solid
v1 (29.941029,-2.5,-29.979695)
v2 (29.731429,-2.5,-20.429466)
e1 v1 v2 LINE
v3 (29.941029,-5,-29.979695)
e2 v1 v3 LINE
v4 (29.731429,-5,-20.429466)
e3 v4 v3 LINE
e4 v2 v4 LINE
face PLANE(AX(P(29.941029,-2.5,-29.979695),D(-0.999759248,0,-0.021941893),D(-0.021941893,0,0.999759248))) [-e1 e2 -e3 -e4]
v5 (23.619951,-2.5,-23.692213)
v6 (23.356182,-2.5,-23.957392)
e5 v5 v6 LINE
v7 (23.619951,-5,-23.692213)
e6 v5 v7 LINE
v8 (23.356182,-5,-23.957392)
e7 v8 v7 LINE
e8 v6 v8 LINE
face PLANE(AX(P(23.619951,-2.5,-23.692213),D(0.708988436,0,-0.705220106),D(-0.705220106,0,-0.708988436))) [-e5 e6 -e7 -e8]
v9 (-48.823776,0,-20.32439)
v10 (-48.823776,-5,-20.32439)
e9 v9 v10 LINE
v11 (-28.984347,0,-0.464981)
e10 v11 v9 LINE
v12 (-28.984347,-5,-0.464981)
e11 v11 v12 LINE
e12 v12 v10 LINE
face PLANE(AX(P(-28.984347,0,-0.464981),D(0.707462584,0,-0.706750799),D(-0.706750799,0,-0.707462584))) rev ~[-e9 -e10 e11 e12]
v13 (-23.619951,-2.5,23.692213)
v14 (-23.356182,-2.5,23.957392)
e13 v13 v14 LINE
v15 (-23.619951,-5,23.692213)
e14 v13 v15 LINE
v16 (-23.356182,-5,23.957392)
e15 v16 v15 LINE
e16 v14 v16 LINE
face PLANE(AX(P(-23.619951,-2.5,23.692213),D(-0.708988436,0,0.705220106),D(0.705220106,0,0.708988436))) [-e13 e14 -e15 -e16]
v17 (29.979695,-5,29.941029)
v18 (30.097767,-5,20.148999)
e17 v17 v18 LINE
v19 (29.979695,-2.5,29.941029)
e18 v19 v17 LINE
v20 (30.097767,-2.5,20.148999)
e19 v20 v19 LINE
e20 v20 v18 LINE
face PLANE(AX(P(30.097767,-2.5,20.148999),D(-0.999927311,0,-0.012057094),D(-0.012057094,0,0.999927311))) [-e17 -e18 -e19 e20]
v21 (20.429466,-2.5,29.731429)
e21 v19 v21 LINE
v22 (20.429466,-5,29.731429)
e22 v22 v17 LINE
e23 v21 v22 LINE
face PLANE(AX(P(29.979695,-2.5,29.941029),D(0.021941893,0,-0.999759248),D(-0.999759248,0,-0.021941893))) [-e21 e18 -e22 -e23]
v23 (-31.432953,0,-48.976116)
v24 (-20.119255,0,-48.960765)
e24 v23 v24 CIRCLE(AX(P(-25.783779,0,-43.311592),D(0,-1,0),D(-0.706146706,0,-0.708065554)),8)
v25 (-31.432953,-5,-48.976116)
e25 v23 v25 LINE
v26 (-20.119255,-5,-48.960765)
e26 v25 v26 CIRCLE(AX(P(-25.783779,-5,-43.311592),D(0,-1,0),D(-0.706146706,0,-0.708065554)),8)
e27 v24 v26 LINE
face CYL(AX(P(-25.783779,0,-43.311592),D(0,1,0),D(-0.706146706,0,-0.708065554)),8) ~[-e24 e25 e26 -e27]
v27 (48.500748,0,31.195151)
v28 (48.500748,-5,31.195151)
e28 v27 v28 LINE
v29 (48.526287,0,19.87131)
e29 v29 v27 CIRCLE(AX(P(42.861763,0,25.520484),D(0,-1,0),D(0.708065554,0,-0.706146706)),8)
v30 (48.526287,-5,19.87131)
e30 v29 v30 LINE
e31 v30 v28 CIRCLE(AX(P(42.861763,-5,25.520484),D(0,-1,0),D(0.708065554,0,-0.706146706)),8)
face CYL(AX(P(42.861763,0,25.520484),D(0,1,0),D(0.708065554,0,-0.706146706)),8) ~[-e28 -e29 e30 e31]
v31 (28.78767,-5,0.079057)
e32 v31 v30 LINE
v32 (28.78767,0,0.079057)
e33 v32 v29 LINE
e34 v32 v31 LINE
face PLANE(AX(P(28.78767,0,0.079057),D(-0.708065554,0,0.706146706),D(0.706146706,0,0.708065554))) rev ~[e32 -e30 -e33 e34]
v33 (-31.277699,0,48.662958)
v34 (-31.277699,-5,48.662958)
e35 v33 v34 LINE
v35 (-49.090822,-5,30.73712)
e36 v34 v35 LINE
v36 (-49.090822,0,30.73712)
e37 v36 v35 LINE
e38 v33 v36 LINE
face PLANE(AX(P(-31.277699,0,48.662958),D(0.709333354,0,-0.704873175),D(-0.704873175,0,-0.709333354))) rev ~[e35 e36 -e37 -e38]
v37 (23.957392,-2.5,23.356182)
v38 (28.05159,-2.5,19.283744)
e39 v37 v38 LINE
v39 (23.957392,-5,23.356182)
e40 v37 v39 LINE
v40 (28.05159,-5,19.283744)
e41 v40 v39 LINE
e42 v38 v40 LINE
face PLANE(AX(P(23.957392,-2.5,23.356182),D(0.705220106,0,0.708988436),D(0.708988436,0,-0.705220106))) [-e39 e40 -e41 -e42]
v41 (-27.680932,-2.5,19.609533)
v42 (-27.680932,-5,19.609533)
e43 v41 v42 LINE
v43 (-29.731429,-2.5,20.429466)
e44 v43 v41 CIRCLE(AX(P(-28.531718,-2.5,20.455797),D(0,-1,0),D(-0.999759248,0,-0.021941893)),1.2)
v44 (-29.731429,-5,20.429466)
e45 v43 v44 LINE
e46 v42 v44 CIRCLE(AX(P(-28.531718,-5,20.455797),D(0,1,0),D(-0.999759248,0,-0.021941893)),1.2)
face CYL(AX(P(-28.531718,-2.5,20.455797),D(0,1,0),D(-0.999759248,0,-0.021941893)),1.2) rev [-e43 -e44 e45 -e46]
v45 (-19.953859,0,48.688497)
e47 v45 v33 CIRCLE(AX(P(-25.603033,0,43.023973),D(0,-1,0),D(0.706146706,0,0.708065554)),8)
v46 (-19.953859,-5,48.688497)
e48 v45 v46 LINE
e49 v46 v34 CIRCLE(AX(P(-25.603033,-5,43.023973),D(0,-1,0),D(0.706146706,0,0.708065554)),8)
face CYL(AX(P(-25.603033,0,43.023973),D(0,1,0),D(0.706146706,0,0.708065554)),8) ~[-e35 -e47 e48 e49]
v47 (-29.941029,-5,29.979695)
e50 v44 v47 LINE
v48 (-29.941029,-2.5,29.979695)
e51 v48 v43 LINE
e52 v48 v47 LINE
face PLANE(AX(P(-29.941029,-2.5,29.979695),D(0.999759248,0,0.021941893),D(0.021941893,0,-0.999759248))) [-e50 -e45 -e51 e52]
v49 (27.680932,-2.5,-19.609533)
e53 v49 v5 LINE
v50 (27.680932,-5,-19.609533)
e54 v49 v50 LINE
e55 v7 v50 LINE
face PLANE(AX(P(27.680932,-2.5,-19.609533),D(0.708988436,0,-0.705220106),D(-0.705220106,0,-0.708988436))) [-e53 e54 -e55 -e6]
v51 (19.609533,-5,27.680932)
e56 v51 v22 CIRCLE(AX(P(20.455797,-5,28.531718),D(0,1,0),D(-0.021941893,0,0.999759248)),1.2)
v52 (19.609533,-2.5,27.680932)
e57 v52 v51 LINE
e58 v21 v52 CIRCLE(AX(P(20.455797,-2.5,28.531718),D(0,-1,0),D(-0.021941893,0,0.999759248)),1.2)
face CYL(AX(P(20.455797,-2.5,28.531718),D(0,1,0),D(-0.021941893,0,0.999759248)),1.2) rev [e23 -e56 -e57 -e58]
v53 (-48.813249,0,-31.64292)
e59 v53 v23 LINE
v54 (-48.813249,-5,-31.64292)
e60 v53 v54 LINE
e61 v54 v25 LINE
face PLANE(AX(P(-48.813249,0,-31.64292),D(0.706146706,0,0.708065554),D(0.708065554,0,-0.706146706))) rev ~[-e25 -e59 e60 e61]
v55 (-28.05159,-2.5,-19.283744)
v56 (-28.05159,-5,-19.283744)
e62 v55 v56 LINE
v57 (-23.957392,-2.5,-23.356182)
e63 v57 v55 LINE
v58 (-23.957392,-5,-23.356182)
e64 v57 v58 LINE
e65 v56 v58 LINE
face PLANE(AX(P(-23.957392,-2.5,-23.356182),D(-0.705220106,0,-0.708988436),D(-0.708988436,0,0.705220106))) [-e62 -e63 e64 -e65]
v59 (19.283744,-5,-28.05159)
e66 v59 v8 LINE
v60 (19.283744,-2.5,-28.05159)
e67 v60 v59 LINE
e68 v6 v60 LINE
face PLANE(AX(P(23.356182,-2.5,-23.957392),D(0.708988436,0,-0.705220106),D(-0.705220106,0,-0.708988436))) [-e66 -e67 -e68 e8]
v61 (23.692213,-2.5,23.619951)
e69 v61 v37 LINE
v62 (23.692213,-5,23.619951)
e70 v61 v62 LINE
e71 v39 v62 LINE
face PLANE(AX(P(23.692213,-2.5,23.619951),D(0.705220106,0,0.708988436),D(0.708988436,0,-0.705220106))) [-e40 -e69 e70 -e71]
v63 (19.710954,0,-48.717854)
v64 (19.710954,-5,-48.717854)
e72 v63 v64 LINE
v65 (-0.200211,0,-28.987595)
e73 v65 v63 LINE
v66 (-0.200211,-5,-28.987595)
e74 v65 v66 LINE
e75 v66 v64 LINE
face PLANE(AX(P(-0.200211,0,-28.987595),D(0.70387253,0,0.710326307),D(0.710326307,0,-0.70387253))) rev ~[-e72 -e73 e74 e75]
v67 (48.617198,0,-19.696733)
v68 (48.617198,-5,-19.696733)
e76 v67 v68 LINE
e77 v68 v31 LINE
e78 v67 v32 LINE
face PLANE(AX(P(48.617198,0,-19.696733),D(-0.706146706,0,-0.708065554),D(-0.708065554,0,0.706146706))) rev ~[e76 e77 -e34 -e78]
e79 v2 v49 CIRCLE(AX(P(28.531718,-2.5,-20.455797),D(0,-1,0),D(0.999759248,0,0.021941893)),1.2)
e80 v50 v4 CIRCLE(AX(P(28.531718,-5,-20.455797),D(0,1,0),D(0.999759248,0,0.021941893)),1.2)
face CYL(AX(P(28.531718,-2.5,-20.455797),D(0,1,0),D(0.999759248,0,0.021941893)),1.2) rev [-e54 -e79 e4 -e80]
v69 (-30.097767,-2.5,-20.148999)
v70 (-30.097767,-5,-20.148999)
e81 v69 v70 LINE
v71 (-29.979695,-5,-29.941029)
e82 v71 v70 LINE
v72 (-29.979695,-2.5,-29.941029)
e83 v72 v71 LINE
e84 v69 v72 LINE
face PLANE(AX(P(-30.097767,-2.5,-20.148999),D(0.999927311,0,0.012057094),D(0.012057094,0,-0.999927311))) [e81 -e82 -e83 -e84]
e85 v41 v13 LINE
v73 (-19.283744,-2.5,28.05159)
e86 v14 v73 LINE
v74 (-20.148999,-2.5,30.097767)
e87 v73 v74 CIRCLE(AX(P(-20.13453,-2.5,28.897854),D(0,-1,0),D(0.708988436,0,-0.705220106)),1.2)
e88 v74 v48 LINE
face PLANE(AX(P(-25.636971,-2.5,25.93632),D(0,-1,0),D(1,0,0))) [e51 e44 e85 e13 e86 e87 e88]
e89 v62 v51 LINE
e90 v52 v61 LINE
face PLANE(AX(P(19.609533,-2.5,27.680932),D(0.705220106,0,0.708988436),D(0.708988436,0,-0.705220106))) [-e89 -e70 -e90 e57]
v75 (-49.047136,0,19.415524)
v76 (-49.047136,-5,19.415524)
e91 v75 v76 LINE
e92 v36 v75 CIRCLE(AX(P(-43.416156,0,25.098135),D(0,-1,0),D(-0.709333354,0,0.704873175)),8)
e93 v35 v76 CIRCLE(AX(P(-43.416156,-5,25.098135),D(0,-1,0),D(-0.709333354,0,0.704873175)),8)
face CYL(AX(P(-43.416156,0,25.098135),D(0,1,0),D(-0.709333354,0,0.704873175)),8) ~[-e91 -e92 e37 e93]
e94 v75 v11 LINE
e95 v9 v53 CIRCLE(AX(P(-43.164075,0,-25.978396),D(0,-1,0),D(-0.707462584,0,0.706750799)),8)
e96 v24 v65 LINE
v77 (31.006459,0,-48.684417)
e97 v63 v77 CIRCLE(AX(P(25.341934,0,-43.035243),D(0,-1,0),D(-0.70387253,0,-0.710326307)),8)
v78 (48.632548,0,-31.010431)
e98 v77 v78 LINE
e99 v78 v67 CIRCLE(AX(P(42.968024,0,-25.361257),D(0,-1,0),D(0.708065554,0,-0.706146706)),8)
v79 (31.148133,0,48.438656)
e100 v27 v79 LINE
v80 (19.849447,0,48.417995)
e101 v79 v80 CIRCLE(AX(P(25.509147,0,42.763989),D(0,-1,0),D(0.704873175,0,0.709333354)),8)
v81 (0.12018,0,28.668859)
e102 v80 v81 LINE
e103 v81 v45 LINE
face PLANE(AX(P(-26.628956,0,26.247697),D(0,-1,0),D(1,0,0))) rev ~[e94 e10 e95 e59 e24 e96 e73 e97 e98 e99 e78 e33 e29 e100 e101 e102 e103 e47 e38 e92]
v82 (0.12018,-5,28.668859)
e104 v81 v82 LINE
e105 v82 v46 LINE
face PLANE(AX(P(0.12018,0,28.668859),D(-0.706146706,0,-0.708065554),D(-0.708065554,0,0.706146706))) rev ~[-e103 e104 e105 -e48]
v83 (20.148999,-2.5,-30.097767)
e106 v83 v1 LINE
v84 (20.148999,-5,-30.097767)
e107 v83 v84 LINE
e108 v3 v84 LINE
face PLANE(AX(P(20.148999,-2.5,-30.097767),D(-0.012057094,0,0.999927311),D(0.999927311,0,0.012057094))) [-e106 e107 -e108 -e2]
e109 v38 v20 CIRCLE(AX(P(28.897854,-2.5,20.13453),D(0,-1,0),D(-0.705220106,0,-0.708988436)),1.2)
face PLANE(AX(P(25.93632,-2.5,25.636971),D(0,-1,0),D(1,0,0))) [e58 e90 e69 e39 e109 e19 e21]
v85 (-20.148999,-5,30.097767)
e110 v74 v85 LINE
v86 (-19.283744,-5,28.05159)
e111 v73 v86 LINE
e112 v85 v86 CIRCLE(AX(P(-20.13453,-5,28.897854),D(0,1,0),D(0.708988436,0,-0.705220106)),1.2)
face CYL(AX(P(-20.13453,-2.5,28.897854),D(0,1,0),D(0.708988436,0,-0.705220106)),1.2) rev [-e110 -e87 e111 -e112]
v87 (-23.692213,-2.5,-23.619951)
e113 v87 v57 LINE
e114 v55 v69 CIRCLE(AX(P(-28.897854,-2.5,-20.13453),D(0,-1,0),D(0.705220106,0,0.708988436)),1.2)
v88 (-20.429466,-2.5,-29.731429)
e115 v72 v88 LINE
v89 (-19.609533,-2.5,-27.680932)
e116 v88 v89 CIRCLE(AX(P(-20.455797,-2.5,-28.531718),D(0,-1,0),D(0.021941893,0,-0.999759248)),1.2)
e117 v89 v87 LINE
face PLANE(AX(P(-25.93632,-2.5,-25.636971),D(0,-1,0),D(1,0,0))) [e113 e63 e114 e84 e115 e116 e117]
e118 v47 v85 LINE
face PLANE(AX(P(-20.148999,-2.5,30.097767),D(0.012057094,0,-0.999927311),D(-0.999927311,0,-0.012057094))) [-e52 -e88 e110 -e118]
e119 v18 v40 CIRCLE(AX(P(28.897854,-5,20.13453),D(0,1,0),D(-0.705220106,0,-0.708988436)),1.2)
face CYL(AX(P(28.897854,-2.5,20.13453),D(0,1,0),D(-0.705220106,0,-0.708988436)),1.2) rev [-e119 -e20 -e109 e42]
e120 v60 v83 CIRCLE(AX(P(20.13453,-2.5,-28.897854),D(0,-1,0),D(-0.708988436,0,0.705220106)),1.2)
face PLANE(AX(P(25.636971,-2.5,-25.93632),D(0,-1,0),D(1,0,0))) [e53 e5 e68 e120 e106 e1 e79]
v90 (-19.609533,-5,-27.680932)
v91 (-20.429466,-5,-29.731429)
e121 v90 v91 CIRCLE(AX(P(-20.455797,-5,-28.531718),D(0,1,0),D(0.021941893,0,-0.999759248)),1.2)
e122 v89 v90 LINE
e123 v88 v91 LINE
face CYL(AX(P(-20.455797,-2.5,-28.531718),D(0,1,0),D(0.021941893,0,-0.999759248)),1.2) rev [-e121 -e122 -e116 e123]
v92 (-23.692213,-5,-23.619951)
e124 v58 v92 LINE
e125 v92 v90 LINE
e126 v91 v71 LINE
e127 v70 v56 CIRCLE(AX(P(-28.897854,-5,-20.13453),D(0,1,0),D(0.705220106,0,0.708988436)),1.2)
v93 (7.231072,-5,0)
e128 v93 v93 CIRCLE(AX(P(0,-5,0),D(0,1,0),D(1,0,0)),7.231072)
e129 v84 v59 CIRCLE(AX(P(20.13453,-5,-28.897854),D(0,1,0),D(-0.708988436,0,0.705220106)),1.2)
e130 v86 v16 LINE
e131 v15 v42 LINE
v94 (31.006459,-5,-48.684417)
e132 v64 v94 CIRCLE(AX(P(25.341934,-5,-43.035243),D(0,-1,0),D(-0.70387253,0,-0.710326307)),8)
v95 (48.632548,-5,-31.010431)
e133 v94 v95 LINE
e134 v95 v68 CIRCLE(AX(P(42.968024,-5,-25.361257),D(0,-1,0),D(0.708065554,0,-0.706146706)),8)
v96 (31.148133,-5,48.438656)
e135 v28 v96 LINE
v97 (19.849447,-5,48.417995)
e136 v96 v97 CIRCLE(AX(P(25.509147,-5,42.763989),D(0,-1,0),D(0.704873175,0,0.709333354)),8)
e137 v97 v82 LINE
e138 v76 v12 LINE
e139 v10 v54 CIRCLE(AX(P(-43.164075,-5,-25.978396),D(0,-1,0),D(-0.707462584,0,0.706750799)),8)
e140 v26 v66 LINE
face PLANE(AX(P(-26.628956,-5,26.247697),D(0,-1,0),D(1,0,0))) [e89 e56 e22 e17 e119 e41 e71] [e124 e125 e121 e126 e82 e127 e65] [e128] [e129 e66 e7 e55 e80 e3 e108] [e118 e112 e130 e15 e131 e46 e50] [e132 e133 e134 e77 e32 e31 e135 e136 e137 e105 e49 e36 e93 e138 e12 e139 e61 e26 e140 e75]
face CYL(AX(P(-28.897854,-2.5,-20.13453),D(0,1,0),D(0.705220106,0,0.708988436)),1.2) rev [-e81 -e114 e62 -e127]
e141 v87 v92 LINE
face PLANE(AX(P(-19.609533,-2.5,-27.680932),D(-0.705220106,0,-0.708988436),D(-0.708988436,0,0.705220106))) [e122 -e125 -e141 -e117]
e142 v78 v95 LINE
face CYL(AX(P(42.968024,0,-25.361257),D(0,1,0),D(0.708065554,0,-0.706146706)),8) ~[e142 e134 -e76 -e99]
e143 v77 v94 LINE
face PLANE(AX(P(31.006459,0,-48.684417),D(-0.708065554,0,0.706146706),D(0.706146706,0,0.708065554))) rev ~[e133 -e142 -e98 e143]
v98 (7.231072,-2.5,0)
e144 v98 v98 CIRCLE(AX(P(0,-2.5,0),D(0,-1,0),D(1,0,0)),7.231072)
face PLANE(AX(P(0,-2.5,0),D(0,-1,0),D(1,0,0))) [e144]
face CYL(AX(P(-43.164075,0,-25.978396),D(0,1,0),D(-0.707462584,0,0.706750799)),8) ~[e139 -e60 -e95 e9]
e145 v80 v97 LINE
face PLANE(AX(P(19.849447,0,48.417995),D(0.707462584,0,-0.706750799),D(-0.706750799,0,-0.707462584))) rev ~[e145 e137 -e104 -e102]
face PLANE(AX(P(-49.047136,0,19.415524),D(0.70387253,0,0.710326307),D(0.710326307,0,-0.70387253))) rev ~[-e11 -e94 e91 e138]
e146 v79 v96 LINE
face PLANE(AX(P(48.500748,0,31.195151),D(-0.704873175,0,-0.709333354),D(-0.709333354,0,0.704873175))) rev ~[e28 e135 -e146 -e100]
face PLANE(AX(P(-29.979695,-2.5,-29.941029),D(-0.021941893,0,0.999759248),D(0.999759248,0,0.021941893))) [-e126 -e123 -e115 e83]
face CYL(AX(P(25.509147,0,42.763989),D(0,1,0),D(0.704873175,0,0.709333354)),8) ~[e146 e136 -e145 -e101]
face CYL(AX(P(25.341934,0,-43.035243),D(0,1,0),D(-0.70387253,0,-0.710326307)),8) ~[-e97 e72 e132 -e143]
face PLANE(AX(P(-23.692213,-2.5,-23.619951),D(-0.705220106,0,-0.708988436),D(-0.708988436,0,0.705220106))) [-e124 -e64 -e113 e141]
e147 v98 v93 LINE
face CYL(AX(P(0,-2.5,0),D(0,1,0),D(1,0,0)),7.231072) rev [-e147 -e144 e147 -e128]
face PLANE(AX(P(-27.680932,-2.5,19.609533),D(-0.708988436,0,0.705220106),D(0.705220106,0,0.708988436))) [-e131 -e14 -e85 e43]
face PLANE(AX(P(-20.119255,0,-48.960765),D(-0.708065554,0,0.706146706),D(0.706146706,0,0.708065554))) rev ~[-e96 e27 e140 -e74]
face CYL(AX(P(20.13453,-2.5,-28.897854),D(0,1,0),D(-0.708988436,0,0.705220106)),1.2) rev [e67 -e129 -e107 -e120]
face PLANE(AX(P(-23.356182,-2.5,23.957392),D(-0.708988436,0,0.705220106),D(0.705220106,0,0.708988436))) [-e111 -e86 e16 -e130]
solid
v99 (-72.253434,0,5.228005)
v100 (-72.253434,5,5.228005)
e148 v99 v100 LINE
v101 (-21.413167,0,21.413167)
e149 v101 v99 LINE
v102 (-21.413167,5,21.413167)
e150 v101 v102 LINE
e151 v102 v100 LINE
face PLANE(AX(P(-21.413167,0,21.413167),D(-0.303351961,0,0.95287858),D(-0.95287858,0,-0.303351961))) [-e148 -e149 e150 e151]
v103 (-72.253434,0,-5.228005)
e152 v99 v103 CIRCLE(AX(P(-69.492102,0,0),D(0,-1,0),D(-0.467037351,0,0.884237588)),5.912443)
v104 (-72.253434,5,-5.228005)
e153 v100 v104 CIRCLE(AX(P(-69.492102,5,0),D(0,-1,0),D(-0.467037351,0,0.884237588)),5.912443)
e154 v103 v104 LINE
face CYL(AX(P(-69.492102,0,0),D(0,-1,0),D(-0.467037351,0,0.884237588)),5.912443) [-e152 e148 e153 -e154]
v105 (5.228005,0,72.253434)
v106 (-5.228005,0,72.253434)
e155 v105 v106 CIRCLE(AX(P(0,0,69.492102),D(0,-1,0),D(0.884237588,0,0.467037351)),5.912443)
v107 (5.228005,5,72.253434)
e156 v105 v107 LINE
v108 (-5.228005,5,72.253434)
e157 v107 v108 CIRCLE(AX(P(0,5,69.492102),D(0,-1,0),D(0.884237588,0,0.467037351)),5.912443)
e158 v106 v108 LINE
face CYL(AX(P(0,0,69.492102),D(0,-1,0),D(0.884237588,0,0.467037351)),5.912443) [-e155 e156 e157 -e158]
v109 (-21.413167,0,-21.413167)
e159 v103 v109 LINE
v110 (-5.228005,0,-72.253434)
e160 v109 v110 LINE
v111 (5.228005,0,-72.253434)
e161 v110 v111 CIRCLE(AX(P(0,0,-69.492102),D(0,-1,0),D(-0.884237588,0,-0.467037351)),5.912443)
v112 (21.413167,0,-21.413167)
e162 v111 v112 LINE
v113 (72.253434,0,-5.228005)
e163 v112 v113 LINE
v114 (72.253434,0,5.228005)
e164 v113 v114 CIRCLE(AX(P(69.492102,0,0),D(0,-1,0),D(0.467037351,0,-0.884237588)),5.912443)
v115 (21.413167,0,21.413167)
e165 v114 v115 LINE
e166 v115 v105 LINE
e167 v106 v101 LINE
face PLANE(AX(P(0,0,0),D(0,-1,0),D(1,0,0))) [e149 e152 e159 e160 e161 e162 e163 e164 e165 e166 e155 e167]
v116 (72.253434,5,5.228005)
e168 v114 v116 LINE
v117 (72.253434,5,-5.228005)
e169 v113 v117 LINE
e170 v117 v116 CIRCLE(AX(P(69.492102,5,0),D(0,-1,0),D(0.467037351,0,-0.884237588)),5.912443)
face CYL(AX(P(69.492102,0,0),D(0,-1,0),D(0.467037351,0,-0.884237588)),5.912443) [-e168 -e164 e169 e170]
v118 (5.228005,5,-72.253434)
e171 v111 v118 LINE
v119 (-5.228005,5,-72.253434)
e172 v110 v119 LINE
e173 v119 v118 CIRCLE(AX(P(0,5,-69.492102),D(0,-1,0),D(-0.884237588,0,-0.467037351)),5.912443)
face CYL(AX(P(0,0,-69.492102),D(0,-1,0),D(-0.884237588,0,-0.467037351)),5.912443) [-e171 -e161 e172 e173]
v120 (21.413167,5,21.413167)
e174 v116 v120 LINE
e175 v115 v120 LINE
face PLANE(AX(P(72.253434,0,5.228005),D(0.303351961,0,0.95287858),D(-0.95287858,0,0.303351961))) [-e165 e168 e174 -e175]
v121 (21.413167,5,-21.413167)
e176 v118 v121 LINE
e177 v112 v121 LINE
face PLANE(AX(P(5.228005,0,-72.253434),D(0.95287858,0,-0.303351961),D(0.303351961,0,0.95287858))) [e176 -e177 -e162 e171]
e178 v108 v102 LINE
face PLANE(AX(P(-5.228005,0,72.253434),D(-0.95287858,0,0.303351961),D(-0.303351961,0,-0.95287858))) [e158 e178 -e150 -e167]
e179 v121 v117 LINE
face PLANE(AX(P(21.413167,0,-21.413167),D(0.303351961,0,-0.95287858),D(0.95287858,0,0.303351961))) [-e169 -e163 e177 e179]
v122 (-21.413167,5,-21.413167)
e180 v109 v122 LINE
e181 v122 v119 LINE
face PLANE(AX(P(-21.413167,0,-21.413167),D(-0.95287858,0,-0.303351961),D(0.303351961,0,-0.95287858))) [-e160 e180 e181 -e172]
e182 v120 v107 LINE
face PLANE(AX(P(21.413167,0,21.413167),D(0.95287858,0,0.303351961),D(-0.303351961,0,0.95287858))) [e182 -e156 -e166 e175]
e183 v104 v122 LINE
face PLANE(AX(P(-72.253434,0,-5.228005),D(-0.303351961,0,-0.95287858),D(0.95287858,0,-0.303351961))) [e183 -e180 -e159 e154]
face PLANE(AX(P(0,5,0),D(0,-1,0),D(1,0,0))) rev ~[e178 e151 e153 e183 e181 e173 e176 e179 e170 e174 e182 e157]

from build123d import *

# Parameters (mm, degrees)
F1_DEPTH = 5
F3_DEPTH = 5
F5_START = 2.5
F5_DEPTH = 8.5
F7_START = 2.5
F6_R     = 7.2310724283
F7_DEPTH = 8.5


with BuildPart() as f1:
    # F0 (on Front) → F1 (new body)
    with BuildSketch(Plane.XZ):
        with BuildLine():
            Line((21.4131670789, 21.4131670789), (5.2280047051, 72.2534335794))
            ThreePointArc((5.2280047051, 72.2534335794), (0, 75.4045450825), (-5.2280047051, 72.2534335794))
            Line((-5.2280047051, 72.2534335794), (-21.4131670789, 21.4131670789))
            Line((-21.4131670789, 21.4131670789), (-72.2534335794, 5.2280047051))
            ThreePointArc((-72.2534335794, 5.2280047051), (-75.4045450825, 0), (-72.2534335794, -5.2280047051))
            Line((-72.2534335794, -5.2280047051), (-21.4131670789, -21.4131670789))
            Line((-21.4131670789, -21.4131670789), (-5.2280047051, -72.2534335794))
            ThreePointArc((-5.2280047051, -72.2534335794), (0, -75.4045450825), (5.2280047051, -72.2534335794))
            Line((5.2280047051, -72.2534335794), (21.4131670789, -21.4131670789))
            Line((21.4131670789, -21.4131670789), (72.2534335794, -5.2280047051))
            ThreePointArc((72.2534335794, -5.2280047051), (75.4045450825, 0), (72.2534335794, 5.2280047051))
            Line((72.2534335794, 5.2280047051), (21.4131670789, 21.4131670789))
        make_face()
    extrude(amount=-F1_DEPTH)


with BuildPart() as f3:
    # F2 (on Front) → F3 (new body)
    with BuildSketch(Plane.XZ):
        with BuildLine():
            Line((-31.277699336, 48.6629582628), (-49.090822423, 30.737120276))
            ThreePointArc((-49.090822423, 30.737120276), (-51.4160960352, 25.0672655385), (-49.0471358303, 19.4155244207))
            Line((-49.0471358303, 19.4155244207), (-28.9843474062, -0.4649805087))
            Line((-28.9843474062, -0.4649805087), (0.1201800308, 28.6688587734))
            Line((0.1201800308, 28.6688587734), (-19.9538588542, 48.6884972941))
            ThreePointArc((-19.9538588542, 48.6884972941), (-25.6210751239, 51.0239525147), (-31.277699336, 48.6629582628))
        make_face()
        Polygon((0.1201800308, 28.6688587734), (-28.9843474062, -0.4649805087), (-0.2002107731, -28.9875945206), (28.7876704154, 0.0790568862), align=None)
        with BuildLine():
            Line((-0.2002107731, -28.9875945206), (-28.9843474062, -0.4649805087))
            Line((-28.9843474062, -0.4649805087), (-48.8237758072, -20.3243896585))
            ThreePointArc((-48.8237758072, -20.3243896585), (-51.1640716736, -25.985836605), (-48.8132487851, -31.6429204843))
            Line((-48.8132487851, -31.6429204843), (-31.4329527263, -48.9761161842))
            ThreePointArc((-31.4329527263, -48.9761161842), (-25.7729244329, -51.311584387), (-20.1192546415, -48.9607654024))
            Line((-20.1192546415, -48.9607654024), (-0.2002107731, -28.9875945206))
        make_face()
        with BuildLine():
            Line((19.8494466376, 48.4179951825), (0.1201800308, 28.6688587734))
            Line((0.1201800308, 28.6688587734), (28.7876704154, 0.0790568862))
            Line((28.7876704154, 0.0790568862), (48.5262871236, 19.8713103241))
            ThreePointArc((48.5262871236, 19.8713103241), (50.8617423442, 25.5385265938), (48.5007480923, 31.1951508059))
            Line((48.5007480923, 31.1951508059), (31.1481327132, 48.4386556204))
            ThreePointArc((31.1481327132, 48.4386556204), (25.494518776, 50.7639754154), (19.8494466376, 48.4179951825))
        make_face()
        with BuildLine():
            Line((28.7876704154, 0.0790568862), (-0.2002107731, -28.9875945206))
            Line((-0.2002107731, -28.9875945206), (19.7109541182, -48.7178535157))
            ThreePointArc((19.7109541182, -48.7178535157), (25.365615745, -51.0352080118), (31.0064587891, -48.6844167139))
            Line((31.0064587891, -48.6844167139), (48.6325484943, -31.0104307543))
            ThreePointArc((48.6325484943, -31.0104307543), (50.968016697, -25.3504024609), (48.6171977124, -19.6967326695))
            Line((48.6171977124, -19.6967326695), (28.7876704154, 0.0790568862))
        make_face()
    extrude(amount=F3_DEPTH)

    # F4 (on face) → F5 (cut)
    with BuildSketch(Plane.XZ.offset(F5_START)):
        with BuildLine():
            Line((23.9573915824, 23.3561819747), (28.0515903028, 19.2837442446))
            ThreePointArc((28.0515903028, 19.2837442446), (29.3652228471, 19.0292852531), (30.0977672028, 20.1489988801))
            Line((30.0977672028, 20.1489988801), (29.9796951878, 29.9410294803))
            Line((29.9796951878, 29.9410294803), (20.4294664941, 29.7314289244))
            ThreePointArc((20.4294664941, 29.7314289244), (19.3415750826, 28.9772624843), (19.6095326382, 27.6809317043))
            Line((19.6095326382, 27.6809317043), (23.692213428, 23.6199506861))
            Line((23.692213428, 23.6199506861), (23.9573915824, 23.3561819747))
        make_face()
        with BuildLine():
            Line((-23.6199506861, 23.692213428), (-23.3561819747, 23.9573915824))
            Line((-23.3561819747, 23.9573915824), (-19.2837442446, 28.0515903028))
            ThreePointArc((-19.2837442446, 28.0515903028), (-19.0292852531, 29.3652228471), (-20.1489988801, 30.0977672028))
            Line((-20.1489988801, 30.0977672028), (-29.9410294803, 29.9796951878))
            Line((-29.9410294803, 29.9796951878), (-29.7314289244, 20.4294664941))
            ThreePointArc((-29.7314289244, 20.4294664941), (-28.9772624843, 19.3415750826), (-27.6809317043, 19.6095326382))
            Line((-27.6809317043, 19.6095326382), (-23.6199506861, 23.692213428))
        make_face()
        with BuildLine():
            Line((-23.692213428, -23.6199506861), (-23.9573915824, -23.3561819747))
            Line((-23.9573915824, -23.3561819747), (-28.0515903028, -19.2837442446))
            ThreePointArc((-28.0515903028, -19.2837442446), (-29.3652228471, -19.0292852531), (-30.0977672028, -20.1489988801))
            Line((-30.0977672028, -20.1489988801), (-29.9796951878, -29.9410294803))
            Line((-29.9796951878, -29.9410294803), (-20.4294664941, -29.7314289244))
            ThreePointArc((-20.4294664941, -29.7314289244), (-19.3415750826, -28.9772624843), (-19.6095326382, -27.6809317043))
            Line((-19.6095326382, -27.6809317043), (-23.692213428, -23.6199506861))
        make_face()
        with BuildLine():
            Line((23.6199506861, -23.692213428), (23.3561819747, -23.9573915824))
            Line((23.3561819747, -23.9573915824), (19.2837442446, -28.0515903028))
            ThreePointArc((19.2837442446, -28.0515903028), (19.0292852531, -29.3652228471), (20.1489988801, -30.0977672028))
            Line((20.1489988801, -30.0977672028), (29.9410294803, -29.9796951878))
            Line((29.9410294803, -29.9796951878), (29.7314289244, -20.4294664941))
            ThreePointArc((29.7314289244, -20.4294664941), (28.9772624843, -19.3415750826), (27.6809317043, -19.6095326382))
            Line((27.6809317043, -19.6095326382), (23.6199506861, -23.692213428))
        make_face()
    extrude(amount=F5_DEPTH, mode=Mode.SUBTRACT)

    # F6 (on Front) → F7 (cut)
    with BuildSketch(Plane.XZ.offset(F7_START)):
        Circle(F6_R)
    extrude(amount=F7_DEPTH, mode=Mode.SUBTRACT)


solid = Compound([f1.part, f3.part])
